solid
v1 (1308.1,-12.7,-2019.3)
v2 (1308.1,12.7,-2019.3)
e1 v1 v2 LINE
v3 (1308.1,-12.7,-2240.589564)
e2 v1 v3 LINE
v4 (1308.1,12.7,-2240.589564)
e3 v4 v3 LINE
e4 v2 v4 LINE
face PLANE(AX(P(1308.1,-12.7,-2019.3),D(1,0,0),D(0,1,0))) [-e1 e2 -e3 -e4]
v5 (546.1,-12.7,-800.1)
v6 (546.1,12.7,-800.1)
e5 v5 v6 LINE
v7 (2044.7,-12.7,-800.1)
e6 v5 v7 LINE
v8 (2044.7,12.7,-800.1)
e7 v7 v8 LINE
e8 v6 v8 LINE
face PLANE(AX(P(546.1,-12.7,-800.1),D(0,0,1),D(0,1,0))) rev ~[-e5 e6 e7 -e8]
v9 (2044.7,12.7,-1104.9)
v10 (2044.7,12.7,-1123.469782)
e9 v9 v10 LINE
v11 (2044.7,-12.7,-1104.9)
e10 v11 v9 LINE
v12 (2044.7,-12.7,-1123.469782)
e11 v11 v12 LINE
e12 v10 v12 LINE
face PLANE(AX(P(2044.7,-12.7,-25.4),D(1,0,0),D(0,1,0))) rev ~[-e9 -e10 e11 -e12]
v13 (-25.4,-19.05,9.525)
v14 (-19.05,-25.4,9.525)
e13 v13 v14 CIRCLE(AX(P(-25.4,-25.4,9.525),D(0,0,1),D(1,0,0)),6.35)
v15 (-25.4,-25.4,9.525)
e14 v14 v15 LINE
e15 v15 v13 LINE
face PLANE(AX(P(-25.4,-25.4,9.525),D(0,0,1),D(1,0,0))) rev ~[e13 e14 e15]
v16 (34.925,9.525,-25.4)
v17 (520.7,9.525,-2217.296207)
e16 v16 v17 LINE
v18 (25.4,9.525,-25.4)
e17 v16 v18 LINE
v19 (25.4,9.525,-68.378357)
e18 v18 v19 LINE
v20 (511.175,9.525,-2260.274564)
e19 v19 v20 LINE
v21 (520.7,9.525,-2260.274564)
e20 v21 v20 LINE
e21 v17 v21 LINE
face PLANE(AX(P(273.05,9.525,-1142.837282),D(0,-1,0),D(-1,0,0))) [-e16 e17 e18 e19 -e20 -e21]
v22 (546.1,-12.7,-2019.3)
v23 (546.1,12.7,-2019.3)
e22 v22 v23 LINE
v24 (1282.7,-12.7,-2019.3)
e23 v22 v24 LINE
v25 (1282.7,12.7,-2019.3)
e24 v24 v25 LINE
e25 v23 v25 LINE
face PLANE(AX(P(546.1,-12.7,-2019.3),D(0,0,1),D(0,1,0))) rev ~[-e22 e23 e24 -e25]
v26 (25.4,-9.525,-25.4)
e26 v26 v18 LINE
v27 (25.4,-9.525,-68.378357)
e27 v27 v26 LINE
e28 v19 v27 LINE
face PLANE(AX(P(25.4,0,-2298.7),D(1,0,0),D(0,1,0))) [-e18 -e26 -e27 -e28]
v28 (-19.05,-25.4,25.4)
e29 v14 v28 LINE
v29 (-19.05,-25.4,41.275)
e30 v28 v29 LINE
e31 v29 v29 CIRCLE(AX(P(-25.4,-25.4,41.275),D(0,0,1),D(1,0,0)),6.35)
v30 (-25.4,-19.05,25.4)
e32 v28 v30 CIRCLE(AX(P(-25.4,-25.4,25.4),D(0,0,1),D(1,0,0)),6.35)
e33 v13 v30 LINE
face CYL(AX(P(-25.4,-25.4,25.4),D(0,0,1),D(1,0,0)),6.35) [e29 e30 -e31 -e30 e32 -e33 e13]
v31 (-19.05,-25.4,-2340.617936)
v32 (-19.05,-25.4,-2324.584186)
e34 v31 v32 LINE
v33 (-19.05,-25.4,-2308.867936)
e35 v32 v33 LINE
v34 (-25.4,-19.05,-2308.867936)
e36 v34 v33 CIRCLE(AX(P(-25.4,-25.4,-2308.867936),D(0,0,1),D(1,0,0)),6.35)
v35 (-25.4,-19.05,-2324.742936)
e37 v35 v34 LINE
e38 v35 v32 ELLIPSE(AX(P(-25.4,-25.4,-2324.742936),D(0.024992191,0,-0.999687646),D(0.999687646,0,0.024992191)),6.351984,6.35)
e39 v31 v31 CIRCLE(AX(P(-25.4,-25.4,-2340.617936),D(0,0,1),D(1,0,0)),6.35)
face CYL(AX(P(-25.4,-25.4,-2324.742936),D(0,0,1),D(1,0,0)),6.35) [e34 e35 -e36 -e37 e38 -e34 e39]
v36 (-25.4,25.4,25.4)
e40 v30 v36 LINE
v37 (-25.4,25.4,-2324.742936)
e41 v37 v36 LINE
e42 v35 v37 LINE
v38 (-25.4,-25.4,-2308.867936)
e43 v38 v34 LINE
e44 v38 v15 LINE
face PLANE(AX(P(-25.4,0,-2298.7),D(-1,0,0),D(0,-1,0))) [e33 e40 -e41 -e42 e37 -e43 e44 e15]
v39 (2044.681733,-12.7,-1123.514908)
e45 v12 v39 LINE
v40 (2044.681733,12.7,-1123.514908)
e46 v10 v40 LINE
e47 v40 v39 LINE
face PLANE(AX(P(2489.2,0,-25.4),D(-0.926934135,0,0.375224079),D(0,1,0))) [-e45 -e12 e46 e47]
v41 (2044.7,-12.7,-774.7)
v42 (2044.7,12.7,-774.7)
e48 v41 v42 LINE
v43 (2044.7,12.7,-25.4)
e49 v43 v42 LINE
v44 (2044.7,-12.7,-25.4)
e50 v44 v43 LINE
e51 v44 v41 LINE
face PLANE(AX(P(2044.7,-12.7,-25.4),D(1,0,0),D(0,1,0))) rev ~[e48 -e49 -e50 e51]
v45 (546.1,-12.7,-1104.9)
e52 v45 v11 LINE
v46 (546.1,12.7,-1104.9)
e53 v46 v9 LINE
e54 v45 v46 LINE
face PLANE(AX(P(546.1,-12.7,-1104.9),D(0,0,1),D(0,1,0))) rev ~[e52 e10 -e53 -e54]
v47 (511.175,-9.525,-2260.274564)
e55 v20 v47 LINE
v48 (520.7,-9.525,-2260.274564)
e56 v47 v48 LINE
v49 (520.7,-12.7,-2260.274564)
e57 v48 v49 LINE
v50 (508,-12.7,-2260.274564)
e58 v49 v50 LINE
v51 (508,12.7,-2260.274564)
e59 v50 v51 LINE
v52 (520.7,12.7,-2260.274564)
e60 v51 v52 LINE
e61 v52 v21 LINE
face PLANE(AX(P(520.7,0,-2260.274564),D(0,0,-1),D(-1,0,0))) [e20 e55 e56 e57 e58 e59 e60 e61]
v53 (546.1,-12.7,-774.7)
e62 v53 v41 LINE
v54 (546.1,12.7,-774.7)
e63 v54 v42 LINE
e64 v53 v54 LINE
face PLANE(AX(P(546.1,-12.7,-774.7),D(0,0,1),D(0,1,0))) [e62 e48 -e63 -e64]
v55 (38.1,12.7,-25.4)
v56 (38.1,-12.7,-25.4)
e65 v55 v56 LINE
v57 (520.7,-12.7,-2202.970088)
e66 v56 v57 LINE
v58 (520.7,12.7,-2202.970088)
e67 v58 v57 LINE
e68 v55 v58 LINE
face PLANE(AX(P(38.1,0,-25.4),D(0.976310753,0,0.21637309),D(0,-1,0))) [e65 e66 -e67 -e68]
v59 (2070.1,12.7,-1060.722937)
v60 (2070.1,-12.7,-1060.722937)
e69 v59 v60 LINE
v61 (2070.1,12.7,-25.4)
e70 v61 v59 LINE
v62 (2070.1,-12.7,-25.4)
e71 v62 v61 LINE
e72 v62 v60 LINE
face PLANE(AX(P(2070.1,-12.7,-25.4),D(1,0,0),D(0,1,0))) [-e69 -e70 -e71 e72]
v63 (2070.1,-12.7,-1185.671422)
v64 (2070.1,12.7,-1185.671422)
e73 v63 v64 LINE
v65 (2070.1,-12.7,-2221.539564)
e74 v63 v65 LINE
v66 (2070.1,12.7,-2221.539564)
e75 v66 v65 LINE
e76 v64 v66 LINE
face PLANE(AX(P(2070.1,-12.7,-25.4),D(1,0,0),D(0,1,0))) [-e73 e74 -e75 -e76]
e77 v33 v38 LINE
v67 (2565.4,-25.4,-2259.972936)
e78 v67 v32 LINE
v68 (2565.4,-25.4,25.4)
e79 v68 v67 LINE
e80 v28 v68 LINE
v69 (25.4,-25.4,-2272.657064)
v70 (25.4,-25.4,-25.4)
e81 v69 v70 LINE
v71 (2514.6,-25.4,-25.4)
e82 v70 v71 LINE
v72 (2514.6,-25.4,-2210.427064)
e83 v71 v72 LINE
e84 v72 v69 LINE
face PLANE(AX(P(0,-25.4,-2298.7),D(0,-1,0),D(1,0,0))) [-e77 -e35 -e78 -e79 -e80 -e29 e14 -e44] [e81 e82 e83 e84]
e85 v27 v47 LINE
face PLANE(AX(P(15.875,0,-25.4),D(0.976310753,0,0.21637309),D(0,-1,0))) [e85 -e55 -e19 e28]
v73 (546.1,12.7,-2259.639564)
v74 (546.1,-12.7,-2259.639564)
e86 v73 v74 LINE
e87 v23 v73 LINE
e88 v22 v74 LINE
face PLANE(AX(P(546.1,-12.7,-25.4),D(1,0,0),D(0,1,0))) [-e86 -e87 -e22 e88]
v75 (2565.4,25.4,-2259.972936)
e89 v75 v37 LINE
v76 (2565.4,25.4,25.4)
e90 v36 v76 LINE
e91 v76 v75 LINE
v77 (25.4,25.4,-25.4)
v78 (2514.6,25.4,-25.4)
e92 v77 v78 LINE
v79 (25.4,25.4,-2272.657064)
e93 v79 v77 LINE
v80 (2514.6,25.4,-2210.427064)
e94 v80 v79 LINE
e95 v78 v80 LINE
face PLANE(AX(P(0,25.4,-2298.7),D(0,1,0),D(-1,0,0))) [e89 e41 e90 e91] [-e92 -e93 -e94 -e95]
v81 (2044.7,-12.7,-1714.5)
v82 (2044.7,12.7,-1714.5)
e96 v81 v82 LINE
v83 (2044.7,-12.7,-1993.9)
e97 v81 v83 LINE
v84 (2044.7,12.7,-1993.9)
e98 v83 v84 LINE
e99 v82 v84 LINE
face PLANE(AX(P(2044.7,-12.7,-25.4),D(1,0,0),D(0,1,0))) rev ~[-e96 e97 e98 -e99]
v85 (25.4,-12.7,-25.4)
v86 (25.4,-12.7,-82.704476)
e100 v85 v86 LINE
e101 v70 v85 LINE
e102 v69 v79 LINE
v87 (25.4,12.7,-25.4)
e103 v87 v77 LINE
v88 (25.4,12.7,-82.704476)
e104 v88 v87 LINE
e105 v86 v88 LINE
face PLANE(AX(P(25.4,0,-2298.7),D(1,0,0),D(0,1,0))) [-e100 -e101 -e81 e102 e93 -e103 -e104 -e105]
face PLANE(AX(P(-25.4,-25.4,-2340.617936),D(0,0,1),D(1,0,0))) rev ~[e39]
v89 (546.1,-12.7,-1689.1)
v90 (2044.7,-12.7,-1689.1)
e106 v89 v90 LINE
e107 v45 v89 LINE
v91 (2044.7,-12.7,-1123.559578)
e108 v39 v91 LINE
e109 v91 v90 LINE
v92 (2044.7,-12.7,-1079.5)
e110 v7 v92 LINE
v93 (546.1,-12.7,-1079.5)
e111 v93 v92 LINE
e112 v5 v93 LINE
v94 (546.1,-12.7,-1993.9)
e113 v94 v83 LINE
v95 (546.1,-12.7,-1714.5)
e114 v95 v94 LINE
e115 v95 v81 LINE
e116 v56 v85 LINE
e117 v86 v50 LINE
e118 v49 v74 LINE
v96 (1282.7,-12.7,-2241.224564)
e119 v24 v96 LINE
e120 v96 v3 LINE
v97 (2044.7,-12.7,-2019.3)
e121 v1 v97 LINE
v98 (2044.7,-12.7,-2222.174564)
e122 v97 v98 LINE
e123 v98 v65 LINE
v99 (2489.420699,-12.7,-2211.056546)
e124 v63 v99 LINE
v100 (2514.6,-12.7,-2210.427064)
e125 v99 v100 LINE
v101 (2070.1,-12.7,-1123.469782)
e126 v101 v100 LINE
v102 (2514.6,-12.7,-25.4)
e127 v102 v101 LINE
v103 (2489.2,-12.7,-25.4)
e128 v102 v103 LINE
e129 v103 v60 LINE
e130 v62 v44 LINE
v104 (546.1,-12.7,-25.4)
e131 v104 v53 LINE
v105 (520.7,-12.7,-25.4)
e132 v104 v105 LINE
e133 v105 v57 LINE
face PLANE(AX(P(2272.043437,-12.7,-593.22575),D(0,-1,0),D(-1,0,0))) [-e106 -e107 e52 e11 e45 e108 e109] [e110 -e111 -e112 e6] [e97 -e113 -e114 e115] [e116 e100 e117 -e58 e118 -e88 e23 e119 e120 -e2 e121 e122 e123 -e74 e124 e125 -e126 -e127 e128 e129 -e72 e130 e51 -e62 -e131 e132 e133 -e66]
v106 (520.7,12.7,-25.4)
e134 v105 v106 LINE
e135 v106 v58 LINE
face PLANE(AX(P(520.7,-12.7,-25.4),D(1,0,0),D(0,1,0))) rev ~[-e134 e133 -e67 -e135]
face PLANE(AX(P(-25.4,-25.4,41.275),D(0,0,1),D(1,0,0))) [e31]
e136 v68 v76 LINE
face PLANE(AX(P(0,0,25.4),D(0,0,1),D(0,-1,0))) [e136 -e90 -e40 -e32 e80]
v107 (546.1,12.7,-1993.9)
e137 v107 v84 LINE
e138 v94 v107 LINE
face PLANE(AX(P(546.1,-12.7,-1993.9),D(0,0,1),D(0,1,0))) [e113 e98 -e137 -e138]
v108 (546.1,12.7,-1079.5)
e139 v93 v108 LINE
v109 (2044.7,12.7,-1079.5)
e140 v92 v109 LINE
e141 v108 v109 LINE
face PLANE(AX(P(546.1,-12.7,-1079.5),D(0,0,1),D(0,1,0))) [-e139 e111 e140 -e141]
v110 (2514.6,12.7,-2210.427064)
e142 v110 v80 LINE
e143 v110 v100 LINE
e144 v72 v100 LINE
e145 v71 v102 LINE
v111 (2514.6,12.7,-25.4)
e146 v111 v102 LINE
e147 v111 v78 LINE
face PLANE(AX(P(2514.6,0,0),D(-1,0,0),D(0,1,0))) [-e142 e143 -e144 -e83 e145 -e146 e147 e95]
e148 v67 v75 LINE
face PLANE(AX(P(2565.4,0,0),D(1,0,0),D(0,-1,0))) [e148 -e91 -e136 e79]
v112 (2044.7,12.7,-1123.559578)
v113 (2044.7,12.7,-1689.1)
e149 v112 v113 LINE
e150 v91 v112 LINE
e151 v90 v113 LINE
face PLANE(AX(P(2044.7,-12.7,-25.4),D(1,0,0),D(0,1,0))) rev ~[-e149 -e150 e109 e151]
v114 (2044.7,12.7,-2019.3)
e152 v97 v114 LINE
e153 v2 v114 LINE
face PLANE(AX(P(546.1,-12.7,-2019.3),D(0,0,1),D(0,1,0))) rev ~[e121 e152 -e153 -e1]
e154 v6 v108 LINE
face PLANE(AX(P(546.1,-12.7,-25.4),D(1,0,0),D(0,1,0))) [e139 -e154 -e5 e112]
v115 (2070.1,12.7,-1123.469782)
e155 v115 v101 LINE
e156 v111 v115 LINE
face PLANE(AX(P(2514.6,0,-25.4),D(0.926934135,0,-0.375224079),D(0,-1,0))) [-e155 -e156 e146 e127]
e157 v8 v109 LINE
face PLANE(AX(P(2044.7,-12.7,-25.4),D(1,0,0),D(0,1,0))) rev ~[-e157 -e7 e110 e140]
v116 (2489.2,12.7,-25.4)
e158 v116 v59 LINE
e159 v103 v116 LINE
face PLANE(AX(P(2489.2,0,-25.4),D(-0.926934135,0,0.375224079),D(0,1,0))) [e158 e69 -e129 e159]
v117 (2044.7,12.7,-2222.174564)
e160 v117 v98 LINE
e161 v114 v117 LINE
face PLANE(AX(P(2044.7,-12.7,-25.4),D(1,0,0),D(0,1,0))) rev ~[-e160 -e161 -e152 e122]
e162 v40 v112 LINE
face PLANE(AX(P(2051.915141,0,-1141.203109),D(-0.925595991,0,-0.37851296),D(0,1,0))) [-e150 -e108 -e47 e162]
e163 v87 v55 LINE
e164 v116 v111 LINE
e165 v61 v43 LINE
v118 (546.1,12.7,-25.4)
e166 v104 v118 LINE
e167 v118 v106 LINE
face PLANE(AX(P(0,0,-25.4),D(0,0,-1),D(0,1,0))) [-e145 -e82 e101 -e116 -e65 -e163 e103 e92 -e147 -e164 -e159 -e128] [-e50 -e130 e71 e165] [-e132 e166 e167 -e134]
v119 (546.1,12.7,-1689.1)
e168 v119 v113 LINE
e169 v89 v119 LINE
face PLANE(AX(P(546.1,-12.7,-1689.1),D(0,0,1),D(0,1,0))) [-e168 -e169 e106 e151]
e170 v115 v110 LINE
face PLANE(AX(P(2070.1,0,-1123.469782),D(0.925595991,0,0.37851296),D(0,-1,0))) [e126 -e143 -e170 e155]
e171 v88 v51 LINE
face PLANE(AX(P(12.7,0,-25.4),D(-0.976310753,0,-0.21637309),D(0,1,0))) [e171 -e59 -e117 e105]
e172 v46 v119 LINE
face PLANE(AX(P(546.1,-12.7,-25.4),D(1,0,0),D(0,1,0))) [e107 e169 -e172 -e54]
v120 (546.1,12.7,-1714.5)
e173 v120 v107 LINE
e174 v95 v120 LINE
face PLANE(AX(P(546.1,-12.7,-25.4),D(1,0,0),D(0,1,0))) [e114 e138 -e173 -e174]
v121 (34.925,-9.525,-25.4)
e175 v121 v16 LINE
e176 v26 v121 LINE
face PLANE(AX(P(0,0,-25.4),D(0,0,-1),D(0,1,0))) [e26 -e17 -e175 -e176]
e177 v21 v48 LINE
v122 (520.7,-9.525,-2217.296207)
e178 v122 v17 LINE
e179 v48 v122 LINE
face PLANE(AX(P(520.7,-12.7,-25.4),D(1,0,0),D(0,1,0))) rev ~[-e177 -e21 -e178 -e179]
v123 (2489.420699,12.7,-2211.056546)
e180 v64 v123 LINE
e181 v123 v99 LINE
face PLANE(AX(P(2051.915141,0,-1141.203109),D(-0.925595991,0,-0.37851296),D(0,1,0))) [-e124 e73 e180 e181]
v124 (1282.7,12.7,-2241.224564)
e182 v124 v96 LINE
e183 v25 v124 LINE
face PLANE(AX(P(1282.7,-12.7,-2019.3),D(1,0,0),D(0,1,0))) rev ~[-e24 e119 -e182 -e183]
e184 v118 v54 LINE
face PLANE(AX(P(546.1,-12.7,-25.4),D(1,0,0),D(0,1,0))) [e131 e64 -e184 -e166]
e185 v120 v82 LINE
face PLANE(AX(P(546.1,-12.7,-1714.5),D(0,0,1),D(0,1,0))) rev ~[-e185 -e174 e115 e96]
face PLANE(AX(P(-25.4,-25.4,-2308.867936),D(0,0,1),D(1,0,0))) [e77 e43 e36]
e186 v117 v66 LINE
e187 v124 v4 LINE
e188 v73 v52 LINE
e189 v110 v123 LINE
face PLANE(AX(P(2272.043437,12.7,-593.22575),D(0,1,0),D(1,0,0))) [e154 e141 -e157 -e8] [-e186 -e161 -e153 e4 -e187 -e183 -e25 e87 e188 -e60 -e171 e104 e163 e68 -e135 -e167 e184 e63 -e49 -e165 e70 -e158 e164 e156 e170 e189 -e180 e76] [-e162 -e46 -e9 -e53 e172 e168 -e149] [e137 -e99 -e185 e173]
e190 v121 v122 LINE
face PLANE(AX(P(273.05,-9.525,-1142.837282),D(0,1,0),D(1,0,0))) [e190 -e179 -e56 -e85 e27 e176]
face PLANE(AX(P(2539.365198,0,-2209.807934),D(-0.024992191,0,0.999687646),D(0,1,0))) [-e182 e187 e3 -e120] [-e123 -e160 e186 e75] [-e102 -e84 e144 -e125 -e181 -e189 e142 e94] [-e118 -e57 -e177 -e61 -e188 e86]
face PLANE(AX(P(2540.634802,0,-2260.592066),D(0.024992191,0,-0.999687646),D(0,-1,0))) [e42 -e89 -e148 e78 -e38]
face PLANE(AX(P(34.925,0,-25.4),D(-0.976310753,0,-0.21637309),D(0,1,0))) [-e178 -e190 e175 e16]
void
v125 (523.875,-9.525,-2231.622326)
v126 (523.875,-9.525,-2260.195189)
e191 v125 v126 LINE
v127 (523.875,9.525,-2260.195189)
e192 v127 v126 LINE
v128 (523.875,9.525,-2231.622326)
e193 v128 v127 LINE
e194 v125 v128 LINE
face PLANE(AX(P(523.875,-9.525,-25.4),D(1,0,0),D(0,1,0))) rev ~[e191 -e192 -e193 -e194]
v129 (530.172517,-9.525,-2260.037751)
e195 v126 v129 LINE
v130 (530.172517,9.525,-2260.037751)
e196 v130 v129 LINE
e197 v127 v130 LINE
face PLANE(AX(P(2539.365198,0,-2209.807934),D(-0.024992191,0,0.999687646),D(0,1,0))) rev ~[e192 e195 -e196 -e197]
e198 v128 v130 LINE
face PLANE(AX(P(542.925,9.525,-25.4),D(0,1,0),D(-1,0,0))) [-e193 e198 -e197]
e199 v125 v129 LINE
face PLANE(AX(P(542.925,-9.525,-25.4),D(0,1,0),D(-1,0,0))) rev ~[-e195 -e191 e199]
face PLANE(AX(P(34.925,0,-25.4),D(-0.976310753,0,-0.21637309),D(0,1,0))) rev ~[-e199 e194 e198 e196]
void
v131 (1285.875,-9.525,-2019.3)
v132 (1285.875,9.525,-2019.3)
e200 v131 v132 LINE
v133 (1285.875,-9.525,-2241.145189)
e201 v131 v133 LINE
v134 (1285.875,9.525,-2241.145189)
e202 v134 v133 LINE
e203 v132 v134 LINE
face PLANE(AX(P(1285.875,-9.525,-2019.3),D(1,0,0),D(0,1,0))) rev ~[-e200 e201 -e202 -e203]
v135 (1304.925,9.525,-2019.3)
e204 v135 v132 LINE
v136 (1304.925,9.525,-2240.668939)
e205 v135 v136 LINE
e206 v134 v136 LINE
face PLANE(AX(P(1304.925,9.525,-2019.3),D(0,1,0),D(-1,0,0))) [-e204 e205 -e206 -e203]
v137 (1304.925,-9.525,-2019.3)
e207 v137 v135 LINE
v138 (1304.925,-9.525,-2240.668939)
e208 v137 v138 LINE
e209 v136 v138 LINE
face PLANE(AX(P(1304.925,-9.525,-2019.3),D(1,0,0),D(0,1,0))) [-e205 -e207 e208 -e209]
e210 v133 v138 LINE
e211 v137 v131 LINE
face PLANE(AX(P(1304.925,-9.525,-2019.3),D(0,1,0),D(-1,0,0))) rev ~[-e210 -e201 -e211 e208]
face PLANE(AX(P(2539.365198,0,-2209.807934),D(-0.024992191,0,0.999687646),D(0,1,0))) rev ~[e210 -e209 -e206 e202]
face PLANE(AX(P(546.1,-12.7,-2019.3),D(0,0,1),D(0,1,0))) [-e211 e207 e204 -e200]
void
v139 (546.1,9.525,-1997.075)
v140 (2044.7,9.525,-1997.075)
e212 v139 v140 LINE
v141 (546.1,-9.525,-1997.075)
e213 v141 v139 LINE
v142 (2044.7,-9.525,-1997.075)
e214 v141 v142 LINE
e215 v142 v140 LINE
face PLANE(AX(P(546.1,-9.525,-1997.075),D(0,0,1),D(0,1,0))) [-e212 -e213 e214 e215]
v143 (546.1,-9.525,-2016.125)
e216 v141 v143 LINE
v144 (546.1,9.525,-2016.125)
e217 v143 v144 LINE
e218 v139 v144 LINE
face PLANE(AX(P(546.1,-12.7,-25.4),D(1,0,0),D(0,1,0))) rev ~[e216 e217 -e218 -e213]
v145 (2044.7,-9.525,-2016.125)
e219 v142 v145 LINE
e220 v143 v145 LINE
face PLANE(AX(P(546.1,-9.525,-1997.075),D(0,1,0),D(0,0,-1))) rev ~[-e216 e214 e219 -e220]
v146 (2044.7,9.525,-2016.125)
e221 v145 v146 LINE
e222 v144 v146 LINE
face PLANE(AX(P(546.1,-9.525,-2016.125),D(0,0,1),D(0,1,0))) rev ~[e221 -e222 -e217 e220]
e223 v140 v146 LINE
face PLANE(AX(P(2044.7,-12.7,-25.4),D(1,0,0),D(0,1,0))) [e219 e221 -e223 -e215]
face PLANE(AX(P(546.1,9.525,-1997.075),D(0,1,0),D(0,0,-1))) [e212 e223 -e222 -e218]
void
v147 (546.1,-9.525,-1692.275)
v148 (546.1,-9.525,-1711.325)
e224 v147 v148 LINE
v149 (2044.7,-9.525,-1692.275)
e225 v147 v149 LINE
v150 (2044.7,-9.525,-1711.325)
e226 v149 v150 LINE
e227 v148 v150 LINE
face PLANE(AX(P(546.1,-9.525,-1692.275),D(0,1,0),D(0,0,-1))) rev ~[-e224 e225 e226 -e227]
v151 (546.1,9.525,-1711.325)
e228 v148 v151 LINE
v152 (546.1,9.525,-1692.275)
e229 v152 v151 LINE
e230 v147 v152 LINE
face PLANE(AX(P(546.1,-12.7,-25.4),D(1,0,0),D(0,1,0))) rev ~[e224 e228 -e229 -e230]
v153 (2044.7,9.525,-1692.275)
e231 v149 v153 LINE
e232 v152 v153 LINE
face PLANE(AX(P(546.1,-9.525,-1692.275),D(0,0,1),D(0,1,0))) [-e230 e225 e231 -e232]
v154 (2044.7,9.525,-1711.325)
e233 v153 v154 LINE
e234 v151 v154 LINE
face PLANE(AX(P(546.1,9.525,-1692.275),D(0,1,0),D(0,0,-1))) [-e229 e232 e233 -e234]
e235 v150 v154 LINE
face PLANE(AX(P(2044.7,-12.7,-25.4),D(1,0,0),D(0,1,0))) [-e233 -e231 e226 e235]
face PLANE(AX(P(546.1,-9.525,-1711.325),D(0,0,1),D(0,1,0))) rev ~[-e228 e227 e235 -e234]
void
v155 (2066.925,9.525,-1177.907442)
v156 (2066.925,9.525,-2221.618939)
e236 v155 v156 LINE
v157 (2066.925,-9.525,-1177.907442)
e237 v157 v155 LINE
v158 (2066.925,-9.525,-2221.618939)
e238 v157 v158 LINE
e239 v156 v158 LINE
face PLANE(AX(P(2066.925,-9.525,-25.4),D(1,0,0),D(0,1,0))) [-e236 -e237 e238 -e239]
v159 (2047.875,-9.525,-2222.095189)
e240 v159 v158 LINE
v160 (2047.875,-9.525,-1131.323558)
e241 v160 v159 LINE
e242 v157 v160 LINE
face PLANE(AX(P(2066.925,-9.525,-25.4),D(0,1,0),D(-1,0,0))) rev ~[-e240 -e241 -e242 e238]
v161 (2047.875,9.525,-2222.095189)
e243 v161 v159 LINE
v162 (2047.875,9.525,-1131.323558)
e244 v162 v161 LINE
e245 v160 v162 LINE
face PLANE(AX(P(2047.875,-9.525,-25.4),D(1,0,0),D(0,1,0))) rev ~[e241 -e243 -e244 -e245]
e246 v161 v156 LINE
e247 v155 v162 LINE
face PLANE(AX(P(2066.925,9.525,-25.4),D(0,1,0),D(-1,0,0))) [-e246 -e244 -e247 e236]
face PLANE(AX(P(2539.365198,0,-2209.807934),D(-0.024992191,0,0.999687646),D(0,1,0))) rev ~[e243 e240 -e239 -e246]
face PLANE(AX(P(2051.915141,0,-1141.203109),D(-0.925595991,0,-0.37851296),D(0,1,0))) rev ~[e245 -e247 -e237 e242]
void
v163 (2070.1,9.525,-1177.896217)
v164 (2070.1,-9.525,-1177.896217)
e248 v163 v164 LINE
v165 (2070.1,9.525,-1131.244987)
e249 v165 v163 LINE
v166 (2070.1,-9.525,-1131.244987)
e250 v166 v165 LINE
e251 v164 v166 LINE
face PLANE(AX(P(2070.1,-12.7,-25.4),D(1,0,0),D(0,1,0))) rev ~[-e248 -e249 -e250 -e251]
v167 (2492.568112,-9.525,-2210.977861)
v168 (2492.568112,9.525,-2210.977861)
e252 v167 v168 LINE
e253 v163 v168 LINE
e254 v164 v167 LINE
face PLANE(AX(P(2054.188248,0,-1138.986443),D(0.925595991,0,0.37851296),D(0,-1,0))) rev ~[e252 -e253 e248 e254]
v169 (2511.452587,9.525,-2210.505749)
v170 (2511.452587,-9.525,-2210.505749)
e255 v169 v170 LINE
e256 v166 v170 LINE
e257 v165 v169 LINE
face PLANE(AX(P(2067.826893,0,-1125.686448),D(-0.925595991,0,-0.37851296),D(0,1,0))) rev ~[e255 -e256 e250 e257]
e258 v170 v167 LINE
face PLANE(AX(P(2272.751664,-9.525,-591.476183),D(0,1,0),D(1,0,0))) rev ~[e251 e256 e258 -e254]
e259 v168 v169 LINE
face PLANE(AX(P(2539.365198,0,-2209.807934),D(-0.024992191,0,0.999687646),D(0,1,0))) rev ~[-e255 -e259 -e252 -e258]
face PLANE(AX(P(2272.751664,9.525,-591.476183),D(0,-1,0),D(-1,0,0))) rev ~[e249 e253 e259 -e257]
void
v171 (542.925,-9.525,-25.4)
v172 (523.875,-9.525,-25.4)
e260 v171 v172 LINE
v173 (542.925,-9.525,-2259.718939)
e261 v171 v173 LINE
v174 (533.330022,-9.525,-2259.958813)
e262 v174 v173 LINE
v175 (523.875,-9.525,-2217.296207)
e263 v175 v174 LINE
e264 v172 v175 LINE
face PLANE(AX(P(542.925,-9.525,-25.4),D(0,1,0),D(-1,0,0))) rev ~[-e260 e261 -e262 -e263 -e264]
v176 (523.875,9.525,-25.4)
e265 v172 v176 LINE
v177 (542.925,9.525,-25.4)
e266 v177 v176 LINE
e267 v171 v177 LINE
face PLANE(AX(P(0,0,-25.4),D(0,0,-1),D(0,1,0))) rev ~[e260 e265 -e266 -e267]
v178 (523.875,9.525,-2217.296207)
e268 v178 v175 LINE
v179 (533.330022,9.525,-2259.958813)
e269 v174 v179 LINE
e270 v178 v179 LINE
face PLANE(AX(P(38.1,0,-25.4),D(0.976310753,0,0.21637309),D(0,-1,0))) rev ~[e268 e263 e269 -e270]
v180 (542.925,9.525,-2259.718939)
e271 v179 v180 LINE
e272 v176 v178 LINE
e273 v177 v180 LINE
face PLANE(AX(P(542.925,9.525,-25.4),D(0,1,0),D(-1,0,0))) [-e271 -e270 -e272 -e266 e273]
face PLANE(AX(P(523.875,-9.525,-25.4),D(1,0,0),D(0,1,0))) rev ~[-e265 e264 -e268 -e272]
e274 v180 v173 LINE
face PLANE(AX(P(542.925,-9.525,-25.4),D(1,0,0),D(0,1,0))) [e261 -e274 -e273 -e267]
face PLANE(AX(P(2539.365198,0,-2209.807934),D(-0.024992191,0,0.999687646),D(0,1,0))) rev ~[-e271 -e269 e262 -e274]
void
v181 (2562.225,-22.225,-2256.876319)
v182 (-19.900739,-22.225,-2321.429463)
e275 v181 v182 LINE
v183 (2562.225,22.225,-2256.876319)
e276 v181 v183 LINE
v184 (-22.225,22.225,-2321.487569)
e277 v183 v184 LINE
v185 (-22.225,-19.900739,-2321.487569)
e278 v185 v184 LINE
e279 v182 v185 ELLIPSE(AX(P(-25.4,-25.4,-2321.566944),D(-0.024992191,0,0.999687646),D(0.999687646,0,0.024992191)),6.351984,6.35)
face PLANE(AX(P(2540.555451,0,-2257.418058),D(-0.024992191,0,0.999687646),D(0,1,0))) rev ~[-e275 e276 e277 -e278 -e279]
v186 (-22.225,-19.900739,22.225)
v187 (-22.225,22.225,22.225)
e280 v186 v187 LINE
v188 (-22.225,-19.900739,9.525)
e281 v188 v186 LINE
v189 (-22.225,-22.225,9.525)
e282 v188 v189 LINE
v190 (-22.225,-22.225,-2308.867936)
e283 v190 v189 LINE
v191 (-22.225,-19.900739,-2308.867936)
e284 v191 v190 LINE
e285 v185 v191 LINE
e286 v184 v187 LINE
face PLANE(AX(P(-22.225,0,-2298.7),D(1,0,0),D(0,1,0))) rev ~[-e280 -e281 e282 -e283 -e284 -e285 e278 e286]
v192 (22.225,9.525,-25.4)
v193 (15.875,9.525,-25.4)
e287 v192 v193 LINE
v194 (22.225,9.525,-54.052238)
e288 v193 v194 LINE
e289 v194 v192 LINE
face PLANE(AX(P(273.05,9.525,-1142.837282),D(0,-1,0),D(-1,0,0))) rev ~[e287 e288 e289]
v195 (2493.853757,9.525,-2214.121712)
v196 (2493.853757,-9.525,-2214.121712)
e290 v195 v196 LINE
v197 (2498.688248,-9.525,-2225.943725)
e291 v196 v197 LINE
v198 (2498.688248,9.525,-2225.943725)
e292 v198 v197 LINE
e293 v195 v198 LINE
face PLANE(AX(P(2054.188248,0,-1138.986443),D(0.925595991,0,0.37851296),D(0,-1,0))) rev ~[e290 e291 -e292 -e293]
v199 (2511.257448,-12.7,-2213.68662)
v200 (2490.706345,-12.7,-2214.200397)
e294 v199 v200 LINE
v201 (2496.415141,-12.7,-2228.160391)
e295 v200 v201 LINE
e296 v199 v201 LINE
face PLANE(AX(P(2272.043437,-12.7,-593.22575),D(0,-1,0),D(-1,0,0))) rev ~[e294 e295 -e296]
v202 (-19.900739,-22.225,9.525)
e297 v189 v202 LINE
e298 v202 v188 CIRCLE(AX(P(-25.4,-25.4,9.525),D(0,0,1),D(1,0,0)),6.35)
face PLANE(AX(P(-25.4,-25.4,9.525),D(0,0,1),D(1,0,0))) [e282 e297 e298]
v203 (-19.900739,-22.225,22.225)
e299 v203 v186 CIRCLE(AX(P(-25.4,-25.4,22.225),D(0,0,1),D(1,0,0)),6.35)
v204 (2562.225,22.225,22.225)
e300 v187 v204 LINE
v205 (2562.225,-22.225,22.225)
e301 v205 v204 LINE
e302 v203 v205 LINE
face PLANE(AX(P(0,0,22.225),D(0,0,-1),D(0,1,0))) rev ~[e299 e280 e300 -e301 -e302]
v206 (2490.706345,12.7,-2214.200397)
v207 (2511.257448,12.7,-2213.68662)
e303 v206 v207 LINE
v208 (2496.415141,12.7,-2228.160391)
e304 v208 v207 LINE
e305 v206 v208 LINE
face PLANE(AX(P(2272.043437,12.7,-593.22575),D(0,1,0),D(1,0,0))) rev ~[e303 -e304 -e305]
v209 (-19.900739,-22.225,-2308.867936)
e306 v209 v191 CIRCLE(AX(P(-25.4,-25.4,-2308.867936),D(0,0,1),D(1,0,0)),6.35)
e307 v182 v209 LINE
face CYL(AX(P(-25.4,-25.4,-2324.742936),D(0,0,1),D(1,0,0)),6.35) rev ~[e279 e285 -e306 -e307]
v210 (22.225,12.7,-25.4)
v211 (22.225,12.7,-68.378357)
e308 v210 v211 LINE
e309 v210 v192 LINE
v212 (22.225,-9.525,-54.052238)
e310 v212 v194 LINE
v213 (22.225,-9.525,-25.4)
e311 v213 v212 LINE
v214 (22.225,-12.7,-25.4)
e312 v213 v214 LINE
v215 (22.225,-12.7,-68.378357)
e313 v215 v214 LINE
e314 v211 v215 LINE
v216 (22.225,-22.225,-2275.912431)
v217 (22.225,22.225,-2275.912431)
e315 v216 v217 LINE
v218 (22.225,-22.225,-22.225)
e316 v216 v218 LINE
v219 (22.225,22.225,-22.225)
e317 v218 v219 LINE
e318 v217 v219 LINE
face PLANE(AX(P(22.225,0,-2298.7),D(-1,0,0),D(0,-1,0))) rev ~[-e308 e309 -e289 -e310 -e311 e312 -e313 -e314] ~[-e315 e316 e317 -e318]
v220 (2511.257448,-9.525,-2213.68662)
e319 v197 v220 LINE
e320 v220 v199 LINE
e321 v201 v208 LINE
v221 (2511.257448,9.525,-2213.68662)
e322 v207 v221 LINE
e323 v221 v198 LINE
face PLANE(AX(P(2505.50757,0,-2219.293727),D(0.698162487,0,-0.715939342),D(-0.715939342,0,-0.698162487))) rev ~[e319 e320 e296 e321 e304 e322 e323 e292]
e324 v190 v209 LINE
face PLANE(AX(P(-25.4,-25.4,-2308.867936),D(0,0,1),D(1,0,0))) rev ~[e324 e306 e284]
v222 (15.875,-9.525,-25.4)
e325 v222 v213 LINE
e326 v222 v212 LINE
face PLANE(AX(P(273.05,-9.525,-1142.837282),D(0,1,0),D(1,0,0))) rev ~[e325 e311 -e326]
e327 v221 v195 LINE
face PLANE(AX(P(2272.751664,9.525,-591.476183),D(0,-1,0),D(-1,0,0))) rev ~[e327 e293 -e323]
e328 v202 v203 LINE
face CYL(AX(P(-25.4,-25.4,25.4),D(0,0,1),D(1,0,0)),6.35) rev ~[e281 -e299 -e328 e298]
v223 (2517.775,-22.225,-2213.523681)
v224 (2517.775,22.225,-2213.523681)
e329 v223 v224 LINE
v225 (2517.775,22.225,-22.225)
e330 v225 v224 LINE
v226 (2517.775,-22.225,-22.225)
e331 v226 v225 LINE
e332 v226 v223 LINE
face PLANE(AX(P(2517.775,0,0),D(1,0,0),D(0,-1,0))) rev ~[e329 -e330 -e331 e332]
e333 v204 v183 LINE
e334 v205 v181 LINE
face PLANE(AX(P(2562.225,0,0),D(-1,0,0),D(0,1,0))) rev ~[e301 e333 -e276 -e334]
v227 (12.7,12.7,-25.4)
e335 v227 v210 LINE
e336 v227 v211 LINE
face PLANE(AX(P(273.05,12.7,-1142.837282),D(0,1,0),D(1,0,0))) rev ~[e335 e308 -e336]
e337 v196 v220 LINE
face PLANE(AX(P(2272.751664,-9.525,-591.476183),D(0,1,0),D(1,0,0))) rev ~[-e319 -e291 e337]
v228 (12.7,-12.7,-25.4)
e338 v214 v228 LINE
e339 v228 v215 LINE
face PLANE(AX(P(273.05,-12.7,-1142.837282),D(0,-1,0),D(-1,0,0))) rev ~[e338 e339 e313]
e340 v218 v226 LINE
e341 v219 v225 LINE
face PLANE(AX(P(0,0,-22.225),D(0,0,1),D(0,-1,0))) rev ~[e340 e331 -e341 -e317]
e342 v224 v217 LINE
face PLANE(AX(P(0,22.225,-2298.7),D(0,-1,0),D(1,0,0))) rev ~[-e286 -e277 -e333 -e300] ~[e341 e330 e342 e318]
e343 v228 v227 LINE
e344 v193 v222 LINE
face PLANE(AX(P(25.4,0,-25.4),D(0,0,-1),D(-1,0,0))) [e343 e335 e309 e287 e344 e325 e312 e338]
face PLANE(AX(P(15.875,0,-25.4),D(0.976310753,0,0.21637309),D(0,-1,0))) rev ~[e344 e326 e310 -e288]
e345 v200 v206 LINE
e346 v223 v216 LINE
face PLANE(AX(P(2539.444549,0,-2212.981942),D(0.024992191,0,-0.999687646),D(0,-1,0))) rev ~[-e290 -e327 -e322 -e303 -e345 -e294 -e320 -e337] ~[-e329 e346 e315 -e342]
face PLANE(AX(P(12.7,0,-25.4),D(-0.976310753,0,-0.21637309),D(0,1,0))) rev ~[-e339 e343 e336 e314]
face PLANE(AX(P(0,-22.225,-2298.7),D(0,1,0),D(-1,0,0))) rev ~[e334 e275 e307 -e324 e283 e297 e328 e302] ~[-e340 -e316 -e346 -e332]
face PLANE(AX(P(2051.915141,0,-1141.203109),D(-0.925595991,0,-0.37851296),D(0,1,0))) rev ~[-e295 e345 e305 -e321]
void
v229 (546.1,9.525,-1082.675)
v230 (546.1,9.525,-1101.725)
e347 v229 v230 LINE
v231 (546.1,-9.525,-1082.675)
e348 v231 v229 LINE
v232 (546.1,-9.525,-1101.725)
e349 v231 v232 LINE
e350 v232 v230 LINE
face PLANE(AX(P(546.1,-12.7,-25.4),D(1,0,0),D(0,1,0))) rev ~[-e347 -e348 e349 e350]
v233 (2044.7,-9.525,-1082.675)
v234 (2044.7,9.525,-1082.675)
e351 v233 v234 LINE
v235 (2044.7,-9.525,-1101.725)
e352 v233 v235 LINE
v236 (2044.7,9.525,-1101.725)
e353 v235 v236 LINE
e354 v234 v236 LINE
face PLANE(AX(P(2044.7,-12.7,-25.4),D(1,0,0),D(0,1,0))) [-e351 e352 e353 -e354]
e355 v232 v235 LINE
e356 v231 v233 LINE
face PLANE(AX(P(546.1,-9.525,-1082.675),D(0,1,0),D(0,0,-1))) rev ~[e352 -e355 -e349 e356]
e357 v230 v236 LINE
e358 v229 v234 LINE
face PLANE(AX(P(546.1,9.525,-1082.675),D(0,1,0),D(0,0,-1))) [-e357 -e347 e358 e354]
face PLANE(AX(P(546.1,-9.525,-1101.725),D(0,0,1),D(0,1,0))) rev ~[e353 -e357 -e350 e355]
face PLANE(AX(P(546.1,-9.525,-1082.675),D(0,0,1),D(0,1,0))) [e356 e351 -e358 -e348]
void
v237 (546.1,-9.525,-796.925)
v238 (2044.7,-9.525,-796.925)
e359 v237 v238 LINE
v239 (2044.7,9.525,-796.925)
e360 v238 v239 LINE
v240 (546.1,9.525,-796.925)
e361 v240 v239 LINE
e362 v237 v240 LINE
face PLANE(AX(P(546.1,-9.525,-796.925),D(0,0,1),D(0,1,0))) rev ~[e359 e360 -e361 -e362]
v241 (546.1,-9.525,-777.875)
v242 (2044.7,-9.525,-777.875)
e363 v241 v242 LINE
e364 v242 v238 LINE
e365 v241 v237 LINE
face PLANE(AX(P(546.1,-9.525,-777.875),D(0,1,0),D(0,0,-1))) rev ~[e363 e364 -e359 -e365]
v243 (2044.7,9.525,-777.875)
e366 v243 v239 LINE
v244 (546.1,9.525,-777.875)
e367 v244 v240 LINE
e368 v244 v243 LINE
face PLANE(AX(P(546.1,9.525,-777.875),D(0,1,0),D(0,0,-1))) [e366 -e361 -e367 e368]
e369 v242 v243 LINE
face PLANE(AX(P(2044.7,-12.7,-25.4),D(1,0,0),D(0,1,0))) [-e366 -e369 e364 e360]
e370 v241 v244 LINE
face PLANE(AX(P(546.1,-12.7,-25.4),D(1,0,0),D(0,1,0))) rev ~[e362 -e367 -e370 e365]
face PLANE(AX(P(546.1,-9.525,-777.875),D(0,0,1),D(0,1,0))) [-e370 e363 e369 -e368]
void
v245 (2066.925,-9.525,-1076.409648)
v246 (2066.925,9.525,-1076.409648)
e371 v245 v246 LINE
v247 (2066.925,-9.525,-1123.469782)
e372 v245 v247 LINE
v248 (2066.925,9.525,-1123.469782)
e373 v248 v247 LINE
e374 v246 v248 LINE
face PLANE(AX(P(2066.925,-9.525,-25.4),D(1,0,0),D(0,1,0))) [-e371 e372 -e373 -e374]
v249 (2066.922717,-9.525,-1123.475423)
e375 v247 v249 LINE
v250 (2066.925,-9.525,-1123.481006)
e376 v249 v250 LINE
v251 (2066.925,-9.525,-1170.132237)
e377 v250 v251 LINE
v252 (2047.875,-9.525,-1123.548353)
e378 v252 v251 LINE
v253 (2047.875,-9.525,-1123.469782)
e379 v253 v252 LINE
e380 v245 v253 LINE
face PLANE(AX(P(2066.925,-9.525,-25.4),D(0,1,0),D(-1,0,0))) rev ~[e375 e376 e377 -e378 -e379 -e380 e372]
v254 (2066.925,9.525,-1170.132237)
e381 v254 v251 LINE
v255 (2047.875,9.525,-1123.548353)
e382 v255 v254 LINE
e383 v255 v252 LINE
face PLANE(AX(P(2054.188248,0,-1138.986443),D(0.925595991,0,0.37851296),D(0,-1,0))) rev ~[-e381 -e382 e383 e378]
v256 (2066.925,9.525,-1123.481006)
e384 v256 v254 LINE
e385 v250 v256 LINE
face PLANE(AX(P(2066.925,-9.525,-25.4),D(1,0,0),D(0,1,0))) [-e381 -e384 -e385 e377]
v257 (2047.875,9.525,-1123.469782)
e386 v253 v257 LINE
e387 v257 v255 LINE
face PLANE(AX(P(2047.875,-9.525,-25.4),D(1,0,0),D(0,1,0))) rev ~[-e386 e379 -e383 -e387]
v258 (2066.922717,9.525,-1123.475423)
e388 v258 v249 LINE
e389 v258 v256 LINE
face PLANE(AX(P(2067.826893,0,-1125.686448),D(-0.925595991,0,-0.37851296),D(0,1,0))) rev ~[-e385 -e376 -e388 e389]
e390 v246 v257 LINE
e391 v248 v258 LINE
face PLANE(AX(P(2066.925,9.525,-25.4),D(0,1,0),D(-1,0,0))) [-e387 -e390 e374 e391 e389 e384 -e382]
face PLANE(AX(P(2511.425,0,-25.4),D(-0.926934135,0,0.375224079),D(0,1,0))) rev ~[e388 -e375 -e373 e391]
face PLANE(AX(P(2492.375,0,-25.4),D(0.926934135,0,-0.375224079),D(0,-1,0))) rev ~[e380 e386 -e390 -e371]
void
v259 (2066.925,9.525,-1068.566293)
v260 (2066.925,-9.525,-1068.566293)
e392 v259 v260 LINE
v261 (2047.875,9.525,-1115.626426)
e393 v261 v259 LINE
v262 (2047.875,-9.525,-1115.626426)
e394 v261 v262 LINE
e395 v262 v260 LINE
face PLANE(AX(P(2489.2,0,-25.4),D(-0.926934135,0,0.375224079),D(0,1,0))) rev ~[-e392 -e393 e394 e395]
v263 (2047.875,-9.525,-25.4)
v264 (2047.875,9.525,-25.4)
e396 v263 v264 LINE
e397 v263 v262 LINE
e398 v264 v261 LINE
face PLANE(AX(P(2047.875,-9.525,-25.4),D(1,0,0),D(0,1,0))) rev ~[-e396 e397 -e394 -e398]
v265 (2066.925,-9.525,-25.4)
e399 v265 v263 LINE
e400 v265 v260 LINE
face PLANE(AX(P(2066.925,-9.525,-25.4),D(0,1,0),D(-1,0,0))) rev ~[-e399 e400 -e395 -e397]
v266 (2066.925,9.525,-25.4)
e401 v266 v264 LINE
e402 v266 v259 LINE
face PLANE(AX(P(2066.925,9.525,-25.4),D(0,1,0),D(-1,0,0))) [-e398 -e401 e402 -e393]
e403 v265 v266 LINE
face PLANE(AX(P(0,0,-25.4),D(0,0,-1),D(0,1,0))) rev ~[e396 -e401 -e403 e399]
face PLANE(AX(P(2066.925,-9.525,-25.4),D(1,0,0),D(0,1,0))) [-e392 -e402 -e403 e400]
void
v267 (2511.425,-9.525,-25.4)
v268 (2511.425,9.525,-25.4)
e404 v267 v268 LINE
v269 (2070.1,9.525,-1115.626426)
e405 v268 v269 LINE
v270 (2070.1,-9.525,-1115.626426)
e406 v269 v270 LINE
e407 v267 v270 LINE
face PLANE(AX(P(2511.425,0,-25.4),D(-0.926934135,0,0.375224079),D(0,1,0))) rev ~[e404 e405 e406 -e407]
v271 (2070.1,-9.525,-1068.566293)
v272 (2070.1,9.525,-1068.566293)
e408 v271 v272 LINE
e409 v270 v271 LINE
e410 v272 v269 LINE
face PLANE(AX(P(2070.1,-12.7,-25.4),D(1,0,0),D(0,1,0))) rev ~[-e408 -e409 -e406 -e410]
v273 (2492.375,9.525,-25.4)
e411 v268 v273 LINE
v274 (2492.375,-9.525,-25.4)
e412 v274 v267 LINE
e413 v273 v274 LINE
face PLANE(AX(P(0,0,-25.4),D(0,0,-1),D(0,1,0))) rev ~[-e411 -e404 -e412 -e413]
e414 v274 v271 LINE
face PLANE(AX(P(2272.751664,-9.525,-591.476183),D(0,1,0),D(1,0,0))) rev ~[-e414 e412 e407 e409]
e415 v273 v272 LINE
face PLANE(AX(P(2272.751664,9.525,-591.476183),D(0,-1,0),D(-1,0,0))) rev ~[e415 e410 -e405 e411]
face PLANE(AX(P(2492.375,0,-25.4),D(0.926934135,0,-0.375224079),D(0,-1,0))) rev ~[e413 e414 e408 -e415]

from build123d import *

# Parameters (mm, degrees)
SKETCH2_W           = 50.8
SKETCH2_H           = 50.8
SKETCH2_W_2         = 44.45
SKETCH2_H_2         = 44.45
BOSS_EXTRUDE1_REACH = 2301.343
SKETCH3_W           = 25.4
SKETCH3_H           = 25.4
SKETCH3_W_2         = 19.05
SKETCH3_H_2         = 19.05
SKETCH4_W           = 25.4
SKETCH4_H           = 25.4
SKETCH4_W_2         = 19.05
SKETCH4_H_2         = 19.05
BOSS_EXTRUDE2_DEPTH = 1498.6
SKETCH5_W           = 25.4
SKETCH5_H           = 25.4
SKETCH5_W_2         = 19.05
SKETCH5_H_2         = 19.05
BOSS_EXTRUDE3_REACH = 307.443
SKETCH11_W          = 25.4
SKETCH11_H          = 25.4
SKETCH11_W_2        = 19.05
SKETCH11_H_2        = 19.05
SKETCH13_W          = 25.4
SKETCH13_H          = 25.4
SKETCH13_W_2        = 19.05
SKETCH13_H_2        = 19.05
SKETCH15_R          = 6.35
BOSS_EXTRUDE4_DEPTH = 15.875
SKETCH16_R          = 6.35
BOSS_EXTRUDE5_DEPTH = 15.875


with BuildPart() as part:
    # Sweep1: sweep along a path in Sketch1
    with BuildLine(Plane(origin=(0, 0, 0), x_dir=(1, 0, 0), z_dir=(0, 1, 0))) as sweep1_path:
        Line((0, 2298.7), (0, 0))
        Line((0, 0), (2540, 0))
        Line((2540, 0), (2540, 2235.2))
        Line((2540, 2235.2), (0, 2298.7))
    # Sketch2 → Sweep1 (sweep)
    with BuildSketch(Plane.XY.offset(-1016)):
        Rectangle(SKETCH2_W, SKETCH2_H)
        Rectangle(SKETCH2_W_2, SKETCH2_H_2, mode=Mode.SUBTRACT)
    sweep(path=sweep1_path.line, transition=Transition.RIGHT)

    # Boss-Extrude1: up to this face of the body (flat: up to its plane)
    boss_extrude1_end = Plane(part.part.faces().sort_by_distance((1270, 0, -2241.54206374))[0])
    # Sketch3 → Boss-Extrude1 (add, up to the picked face)
    with BuildSketch(Plane(origin=(0, 0, -25.4), x_dir=(-1, 0, 0), z_dir=(0, 0, -1)), mode=Mode.PRIVATE) as boss_extrude1_sk1:
        with Locations((-533.4, 0)):
            Rectangle(SKETCH3_W, SKETCH3_H)
        with Locations((-533.4, 0)):
            Rectangle(SKETCH3_W_2, SKETCH3_H_2, mode=Mode.SUBTRACT)
    boss_extrude1_tool1 = split(extrude(boss_extrude1_sk1.sketch, amount=BOSS_EXTRUDE1_REACH, mode=Mode.PRIVATE), bisect_by=boss_extrude1_end, keep=Keep.BOTH, mode=Mode.PRIVATE)
    add(boss_extrude1_tool1.solids().sort_by_distance((521.05921, 0, -25.4))[0])
    # Sketch3 → Boss-Extrude1 (add, up to the picked face)
    with BuildSketch(Plane(origin=(0, 0, -25.4), x_dir=(-1, 0, 0), z_dir=(0, 0, -1)), mode=Mode.PRIVATE) as boss_extrude1_sk2:
        with Locations((-2057.4, 0)):
            Rectangle(SKETCH3_W, SKETCH3_H)
        with Locations((-2057.4, 0)):
            Rectangle(SKETCH3_W_2, SKETCH3_H_2, mode=Mode.SUBTRACT)
    boss_extrude1_tool2 = split(extrude(boss_extrude1_sk2.sketch, amount=BOSS_EXTRUDE1_REACH, mode=Mode.PRIVATE), bisect_by=boss_extrude1_end, keep=Keep.BOTH, mode=Mode.PRIVATE)
    add(boss_extrude1_tool2.solids().sort_by_distance((2057.4, -12.34079, -25.4))[0])

    # Sketch4 → Boss-Extrude2 (add)
    with BuildSketch(Plane(origin=(546.1, 0, 0), x_dir=(0, 0, -1), z_dir=(1, 0, 0))):
        with Locations((787.4, 0)):
            Rectangle(SKETCH4_W, SKETCH4_H)
        with Locations((787.4, 0)):
            Rectangle(SKETCH4_W_2, SKETCH4_H_2, mode=Mode.SUBTRACT)
        with Locations((1092.2, 0)):
            Rectangle(SKETCH4_W, SKETCH4_H)
        with Locations((1092.2, 0)):
            Rectangle(SKETCH4_W_2, SKETCH4_H_2, mode=Mode.SUBTRACT)
        with Locations((1701.8, 0)):
            Rectangle(SKETCH4_W, SKETCH4_H)
        with Locations((1701.8, 0)):
            Rectangle(SKETCH4_W_2, SKETCH4_H_2, mode=Mode.SUBTRACT)
        with Locations((2006.6, 0)):
            Rectangle(SKETCH4_W, SKETCH4_H)
        with Locations((2006.6, 0)):
            Rectangle(SKETCH4_W_2, SKETCH4_H_2, mode=Mode.SUBTRACT)
    extrude(amount=BOSS_EXTRUDE2_DEPTH)

    # Sweep2: sweep along a path in Sketch6
    with BuildLine(Plane(origin=(0, 25.4, 0), x_dir=(1, 0, 0), z_dir=(0, 1, 0))) as sweep2_path:
        Line((25.4, 25.4), (520.7, 2260.27456374))
    # Sketch5 → Sweep2 (sweep)
    with BuildSketch(Plane(origin=(0, 0, -25.4), x_dir=(-1, 0, 0), z_dir=(0, 0, -1))):
        with Locations((-25.4, 0)):
            Rectangle(SKETCH5_W, SKETCH5_H)
        with Locations((-25.4, 0)):
            Rectangle(SKETCH5_W_2, SKETCH5_H_2, mode=Mode.SUBTRACT)
    sweep(path=sweep2_path.line)

    # Boss-Extrude3: up to this face of the body (flat: up to its plane)
    boss_extrude3_end = Plane(part.part.faces().sort_by_distance((1269.73814433, 0, -2241.548610131))[0])
    # Sketch11 → Boss-Extrude3 (add, up to the picked face)
    with BuildSketch(Plane(origin=(0, 0, -2019.3), x_dir=(-1, 0, 0), z_dir=(0, 0, -1)), mode=Mode.PRIVATE) as boss_extrude3_sk1:
        with Locations((-1295.4, 0)):
            Rectangle(SKETCH11_W, SKETCH11_H)
        with Locations((-1295.4, 0)):
            Rectangle(SKETCH11_W_2, SKETCH11_H_2, mode=Mode.SUBTRACT)
    boss_extrude3_tool1 = split(extrude(boss_extrude3_sk1.sketch, amount=BOSS_EXTRUDE3_REACH, mode=Mode.PRIVATE), bisect_by=boss_extrude3_end, keep=Keep.BOTH, mode=Mode.PRIVATE)
    add(boss_extrude3_tool1.solids().sort_by_distance((1295.4, -12.34079, -2019.3))[0])

    # Sweep6: sweep along a path in Sketch14
    with BuildLine(Plane(origin=(0, 25.4, 0), x_dir=(1, 0, 0), z_dir=(0, 1, 0))) as sweep6_path:
        Line((2514.6, 25.4), (2070.1, 1123.46978187))
        Line((2070.1, 1123.46978187), (2514.6, 2210.42706374))
    # Sketch13 → Sweep6 (sweep)
    with BuildSketch(Plane(origin=(0, 0, -25.4), x_dir=(-1, 0, 0), z_dir=(0, 0, -1))):
        with Locations((-2501.9, 0)):
            Rectangle(SKETCH13_W, SKETCH13_H)
        with Locations((-2501.9, 0)):
            Rectangle(SKETCH13_W_2, SKETCH13_H_2, mode=Mode.SUBTRACT)
    sweep(path=sweep6_path.line, transition=Transition.RIGHT)

    # Sketch15 → Boss-Extrude4 (add, symmetric)
    with BuildSketch(Plane.XY.offset(-2324.74293626)):
        with Locations((-25.4, -25.4)):
            Circle(SKETCH15_R)
    extrude(amount=BOSS_EXTRUDE4_DEPTH, both=True)

    # Sketch16 → Boss-Extrude5 (add, symmetric)
    with BuildSketch(Plane.XY.offset(25.4)):
        with Locations((-25.4, -25.4)):
            Circle(SKETCH16_R)
    extrude(amount=BOSS_EXTRUDE5_DEPTH, both=True)


solid = part.part
